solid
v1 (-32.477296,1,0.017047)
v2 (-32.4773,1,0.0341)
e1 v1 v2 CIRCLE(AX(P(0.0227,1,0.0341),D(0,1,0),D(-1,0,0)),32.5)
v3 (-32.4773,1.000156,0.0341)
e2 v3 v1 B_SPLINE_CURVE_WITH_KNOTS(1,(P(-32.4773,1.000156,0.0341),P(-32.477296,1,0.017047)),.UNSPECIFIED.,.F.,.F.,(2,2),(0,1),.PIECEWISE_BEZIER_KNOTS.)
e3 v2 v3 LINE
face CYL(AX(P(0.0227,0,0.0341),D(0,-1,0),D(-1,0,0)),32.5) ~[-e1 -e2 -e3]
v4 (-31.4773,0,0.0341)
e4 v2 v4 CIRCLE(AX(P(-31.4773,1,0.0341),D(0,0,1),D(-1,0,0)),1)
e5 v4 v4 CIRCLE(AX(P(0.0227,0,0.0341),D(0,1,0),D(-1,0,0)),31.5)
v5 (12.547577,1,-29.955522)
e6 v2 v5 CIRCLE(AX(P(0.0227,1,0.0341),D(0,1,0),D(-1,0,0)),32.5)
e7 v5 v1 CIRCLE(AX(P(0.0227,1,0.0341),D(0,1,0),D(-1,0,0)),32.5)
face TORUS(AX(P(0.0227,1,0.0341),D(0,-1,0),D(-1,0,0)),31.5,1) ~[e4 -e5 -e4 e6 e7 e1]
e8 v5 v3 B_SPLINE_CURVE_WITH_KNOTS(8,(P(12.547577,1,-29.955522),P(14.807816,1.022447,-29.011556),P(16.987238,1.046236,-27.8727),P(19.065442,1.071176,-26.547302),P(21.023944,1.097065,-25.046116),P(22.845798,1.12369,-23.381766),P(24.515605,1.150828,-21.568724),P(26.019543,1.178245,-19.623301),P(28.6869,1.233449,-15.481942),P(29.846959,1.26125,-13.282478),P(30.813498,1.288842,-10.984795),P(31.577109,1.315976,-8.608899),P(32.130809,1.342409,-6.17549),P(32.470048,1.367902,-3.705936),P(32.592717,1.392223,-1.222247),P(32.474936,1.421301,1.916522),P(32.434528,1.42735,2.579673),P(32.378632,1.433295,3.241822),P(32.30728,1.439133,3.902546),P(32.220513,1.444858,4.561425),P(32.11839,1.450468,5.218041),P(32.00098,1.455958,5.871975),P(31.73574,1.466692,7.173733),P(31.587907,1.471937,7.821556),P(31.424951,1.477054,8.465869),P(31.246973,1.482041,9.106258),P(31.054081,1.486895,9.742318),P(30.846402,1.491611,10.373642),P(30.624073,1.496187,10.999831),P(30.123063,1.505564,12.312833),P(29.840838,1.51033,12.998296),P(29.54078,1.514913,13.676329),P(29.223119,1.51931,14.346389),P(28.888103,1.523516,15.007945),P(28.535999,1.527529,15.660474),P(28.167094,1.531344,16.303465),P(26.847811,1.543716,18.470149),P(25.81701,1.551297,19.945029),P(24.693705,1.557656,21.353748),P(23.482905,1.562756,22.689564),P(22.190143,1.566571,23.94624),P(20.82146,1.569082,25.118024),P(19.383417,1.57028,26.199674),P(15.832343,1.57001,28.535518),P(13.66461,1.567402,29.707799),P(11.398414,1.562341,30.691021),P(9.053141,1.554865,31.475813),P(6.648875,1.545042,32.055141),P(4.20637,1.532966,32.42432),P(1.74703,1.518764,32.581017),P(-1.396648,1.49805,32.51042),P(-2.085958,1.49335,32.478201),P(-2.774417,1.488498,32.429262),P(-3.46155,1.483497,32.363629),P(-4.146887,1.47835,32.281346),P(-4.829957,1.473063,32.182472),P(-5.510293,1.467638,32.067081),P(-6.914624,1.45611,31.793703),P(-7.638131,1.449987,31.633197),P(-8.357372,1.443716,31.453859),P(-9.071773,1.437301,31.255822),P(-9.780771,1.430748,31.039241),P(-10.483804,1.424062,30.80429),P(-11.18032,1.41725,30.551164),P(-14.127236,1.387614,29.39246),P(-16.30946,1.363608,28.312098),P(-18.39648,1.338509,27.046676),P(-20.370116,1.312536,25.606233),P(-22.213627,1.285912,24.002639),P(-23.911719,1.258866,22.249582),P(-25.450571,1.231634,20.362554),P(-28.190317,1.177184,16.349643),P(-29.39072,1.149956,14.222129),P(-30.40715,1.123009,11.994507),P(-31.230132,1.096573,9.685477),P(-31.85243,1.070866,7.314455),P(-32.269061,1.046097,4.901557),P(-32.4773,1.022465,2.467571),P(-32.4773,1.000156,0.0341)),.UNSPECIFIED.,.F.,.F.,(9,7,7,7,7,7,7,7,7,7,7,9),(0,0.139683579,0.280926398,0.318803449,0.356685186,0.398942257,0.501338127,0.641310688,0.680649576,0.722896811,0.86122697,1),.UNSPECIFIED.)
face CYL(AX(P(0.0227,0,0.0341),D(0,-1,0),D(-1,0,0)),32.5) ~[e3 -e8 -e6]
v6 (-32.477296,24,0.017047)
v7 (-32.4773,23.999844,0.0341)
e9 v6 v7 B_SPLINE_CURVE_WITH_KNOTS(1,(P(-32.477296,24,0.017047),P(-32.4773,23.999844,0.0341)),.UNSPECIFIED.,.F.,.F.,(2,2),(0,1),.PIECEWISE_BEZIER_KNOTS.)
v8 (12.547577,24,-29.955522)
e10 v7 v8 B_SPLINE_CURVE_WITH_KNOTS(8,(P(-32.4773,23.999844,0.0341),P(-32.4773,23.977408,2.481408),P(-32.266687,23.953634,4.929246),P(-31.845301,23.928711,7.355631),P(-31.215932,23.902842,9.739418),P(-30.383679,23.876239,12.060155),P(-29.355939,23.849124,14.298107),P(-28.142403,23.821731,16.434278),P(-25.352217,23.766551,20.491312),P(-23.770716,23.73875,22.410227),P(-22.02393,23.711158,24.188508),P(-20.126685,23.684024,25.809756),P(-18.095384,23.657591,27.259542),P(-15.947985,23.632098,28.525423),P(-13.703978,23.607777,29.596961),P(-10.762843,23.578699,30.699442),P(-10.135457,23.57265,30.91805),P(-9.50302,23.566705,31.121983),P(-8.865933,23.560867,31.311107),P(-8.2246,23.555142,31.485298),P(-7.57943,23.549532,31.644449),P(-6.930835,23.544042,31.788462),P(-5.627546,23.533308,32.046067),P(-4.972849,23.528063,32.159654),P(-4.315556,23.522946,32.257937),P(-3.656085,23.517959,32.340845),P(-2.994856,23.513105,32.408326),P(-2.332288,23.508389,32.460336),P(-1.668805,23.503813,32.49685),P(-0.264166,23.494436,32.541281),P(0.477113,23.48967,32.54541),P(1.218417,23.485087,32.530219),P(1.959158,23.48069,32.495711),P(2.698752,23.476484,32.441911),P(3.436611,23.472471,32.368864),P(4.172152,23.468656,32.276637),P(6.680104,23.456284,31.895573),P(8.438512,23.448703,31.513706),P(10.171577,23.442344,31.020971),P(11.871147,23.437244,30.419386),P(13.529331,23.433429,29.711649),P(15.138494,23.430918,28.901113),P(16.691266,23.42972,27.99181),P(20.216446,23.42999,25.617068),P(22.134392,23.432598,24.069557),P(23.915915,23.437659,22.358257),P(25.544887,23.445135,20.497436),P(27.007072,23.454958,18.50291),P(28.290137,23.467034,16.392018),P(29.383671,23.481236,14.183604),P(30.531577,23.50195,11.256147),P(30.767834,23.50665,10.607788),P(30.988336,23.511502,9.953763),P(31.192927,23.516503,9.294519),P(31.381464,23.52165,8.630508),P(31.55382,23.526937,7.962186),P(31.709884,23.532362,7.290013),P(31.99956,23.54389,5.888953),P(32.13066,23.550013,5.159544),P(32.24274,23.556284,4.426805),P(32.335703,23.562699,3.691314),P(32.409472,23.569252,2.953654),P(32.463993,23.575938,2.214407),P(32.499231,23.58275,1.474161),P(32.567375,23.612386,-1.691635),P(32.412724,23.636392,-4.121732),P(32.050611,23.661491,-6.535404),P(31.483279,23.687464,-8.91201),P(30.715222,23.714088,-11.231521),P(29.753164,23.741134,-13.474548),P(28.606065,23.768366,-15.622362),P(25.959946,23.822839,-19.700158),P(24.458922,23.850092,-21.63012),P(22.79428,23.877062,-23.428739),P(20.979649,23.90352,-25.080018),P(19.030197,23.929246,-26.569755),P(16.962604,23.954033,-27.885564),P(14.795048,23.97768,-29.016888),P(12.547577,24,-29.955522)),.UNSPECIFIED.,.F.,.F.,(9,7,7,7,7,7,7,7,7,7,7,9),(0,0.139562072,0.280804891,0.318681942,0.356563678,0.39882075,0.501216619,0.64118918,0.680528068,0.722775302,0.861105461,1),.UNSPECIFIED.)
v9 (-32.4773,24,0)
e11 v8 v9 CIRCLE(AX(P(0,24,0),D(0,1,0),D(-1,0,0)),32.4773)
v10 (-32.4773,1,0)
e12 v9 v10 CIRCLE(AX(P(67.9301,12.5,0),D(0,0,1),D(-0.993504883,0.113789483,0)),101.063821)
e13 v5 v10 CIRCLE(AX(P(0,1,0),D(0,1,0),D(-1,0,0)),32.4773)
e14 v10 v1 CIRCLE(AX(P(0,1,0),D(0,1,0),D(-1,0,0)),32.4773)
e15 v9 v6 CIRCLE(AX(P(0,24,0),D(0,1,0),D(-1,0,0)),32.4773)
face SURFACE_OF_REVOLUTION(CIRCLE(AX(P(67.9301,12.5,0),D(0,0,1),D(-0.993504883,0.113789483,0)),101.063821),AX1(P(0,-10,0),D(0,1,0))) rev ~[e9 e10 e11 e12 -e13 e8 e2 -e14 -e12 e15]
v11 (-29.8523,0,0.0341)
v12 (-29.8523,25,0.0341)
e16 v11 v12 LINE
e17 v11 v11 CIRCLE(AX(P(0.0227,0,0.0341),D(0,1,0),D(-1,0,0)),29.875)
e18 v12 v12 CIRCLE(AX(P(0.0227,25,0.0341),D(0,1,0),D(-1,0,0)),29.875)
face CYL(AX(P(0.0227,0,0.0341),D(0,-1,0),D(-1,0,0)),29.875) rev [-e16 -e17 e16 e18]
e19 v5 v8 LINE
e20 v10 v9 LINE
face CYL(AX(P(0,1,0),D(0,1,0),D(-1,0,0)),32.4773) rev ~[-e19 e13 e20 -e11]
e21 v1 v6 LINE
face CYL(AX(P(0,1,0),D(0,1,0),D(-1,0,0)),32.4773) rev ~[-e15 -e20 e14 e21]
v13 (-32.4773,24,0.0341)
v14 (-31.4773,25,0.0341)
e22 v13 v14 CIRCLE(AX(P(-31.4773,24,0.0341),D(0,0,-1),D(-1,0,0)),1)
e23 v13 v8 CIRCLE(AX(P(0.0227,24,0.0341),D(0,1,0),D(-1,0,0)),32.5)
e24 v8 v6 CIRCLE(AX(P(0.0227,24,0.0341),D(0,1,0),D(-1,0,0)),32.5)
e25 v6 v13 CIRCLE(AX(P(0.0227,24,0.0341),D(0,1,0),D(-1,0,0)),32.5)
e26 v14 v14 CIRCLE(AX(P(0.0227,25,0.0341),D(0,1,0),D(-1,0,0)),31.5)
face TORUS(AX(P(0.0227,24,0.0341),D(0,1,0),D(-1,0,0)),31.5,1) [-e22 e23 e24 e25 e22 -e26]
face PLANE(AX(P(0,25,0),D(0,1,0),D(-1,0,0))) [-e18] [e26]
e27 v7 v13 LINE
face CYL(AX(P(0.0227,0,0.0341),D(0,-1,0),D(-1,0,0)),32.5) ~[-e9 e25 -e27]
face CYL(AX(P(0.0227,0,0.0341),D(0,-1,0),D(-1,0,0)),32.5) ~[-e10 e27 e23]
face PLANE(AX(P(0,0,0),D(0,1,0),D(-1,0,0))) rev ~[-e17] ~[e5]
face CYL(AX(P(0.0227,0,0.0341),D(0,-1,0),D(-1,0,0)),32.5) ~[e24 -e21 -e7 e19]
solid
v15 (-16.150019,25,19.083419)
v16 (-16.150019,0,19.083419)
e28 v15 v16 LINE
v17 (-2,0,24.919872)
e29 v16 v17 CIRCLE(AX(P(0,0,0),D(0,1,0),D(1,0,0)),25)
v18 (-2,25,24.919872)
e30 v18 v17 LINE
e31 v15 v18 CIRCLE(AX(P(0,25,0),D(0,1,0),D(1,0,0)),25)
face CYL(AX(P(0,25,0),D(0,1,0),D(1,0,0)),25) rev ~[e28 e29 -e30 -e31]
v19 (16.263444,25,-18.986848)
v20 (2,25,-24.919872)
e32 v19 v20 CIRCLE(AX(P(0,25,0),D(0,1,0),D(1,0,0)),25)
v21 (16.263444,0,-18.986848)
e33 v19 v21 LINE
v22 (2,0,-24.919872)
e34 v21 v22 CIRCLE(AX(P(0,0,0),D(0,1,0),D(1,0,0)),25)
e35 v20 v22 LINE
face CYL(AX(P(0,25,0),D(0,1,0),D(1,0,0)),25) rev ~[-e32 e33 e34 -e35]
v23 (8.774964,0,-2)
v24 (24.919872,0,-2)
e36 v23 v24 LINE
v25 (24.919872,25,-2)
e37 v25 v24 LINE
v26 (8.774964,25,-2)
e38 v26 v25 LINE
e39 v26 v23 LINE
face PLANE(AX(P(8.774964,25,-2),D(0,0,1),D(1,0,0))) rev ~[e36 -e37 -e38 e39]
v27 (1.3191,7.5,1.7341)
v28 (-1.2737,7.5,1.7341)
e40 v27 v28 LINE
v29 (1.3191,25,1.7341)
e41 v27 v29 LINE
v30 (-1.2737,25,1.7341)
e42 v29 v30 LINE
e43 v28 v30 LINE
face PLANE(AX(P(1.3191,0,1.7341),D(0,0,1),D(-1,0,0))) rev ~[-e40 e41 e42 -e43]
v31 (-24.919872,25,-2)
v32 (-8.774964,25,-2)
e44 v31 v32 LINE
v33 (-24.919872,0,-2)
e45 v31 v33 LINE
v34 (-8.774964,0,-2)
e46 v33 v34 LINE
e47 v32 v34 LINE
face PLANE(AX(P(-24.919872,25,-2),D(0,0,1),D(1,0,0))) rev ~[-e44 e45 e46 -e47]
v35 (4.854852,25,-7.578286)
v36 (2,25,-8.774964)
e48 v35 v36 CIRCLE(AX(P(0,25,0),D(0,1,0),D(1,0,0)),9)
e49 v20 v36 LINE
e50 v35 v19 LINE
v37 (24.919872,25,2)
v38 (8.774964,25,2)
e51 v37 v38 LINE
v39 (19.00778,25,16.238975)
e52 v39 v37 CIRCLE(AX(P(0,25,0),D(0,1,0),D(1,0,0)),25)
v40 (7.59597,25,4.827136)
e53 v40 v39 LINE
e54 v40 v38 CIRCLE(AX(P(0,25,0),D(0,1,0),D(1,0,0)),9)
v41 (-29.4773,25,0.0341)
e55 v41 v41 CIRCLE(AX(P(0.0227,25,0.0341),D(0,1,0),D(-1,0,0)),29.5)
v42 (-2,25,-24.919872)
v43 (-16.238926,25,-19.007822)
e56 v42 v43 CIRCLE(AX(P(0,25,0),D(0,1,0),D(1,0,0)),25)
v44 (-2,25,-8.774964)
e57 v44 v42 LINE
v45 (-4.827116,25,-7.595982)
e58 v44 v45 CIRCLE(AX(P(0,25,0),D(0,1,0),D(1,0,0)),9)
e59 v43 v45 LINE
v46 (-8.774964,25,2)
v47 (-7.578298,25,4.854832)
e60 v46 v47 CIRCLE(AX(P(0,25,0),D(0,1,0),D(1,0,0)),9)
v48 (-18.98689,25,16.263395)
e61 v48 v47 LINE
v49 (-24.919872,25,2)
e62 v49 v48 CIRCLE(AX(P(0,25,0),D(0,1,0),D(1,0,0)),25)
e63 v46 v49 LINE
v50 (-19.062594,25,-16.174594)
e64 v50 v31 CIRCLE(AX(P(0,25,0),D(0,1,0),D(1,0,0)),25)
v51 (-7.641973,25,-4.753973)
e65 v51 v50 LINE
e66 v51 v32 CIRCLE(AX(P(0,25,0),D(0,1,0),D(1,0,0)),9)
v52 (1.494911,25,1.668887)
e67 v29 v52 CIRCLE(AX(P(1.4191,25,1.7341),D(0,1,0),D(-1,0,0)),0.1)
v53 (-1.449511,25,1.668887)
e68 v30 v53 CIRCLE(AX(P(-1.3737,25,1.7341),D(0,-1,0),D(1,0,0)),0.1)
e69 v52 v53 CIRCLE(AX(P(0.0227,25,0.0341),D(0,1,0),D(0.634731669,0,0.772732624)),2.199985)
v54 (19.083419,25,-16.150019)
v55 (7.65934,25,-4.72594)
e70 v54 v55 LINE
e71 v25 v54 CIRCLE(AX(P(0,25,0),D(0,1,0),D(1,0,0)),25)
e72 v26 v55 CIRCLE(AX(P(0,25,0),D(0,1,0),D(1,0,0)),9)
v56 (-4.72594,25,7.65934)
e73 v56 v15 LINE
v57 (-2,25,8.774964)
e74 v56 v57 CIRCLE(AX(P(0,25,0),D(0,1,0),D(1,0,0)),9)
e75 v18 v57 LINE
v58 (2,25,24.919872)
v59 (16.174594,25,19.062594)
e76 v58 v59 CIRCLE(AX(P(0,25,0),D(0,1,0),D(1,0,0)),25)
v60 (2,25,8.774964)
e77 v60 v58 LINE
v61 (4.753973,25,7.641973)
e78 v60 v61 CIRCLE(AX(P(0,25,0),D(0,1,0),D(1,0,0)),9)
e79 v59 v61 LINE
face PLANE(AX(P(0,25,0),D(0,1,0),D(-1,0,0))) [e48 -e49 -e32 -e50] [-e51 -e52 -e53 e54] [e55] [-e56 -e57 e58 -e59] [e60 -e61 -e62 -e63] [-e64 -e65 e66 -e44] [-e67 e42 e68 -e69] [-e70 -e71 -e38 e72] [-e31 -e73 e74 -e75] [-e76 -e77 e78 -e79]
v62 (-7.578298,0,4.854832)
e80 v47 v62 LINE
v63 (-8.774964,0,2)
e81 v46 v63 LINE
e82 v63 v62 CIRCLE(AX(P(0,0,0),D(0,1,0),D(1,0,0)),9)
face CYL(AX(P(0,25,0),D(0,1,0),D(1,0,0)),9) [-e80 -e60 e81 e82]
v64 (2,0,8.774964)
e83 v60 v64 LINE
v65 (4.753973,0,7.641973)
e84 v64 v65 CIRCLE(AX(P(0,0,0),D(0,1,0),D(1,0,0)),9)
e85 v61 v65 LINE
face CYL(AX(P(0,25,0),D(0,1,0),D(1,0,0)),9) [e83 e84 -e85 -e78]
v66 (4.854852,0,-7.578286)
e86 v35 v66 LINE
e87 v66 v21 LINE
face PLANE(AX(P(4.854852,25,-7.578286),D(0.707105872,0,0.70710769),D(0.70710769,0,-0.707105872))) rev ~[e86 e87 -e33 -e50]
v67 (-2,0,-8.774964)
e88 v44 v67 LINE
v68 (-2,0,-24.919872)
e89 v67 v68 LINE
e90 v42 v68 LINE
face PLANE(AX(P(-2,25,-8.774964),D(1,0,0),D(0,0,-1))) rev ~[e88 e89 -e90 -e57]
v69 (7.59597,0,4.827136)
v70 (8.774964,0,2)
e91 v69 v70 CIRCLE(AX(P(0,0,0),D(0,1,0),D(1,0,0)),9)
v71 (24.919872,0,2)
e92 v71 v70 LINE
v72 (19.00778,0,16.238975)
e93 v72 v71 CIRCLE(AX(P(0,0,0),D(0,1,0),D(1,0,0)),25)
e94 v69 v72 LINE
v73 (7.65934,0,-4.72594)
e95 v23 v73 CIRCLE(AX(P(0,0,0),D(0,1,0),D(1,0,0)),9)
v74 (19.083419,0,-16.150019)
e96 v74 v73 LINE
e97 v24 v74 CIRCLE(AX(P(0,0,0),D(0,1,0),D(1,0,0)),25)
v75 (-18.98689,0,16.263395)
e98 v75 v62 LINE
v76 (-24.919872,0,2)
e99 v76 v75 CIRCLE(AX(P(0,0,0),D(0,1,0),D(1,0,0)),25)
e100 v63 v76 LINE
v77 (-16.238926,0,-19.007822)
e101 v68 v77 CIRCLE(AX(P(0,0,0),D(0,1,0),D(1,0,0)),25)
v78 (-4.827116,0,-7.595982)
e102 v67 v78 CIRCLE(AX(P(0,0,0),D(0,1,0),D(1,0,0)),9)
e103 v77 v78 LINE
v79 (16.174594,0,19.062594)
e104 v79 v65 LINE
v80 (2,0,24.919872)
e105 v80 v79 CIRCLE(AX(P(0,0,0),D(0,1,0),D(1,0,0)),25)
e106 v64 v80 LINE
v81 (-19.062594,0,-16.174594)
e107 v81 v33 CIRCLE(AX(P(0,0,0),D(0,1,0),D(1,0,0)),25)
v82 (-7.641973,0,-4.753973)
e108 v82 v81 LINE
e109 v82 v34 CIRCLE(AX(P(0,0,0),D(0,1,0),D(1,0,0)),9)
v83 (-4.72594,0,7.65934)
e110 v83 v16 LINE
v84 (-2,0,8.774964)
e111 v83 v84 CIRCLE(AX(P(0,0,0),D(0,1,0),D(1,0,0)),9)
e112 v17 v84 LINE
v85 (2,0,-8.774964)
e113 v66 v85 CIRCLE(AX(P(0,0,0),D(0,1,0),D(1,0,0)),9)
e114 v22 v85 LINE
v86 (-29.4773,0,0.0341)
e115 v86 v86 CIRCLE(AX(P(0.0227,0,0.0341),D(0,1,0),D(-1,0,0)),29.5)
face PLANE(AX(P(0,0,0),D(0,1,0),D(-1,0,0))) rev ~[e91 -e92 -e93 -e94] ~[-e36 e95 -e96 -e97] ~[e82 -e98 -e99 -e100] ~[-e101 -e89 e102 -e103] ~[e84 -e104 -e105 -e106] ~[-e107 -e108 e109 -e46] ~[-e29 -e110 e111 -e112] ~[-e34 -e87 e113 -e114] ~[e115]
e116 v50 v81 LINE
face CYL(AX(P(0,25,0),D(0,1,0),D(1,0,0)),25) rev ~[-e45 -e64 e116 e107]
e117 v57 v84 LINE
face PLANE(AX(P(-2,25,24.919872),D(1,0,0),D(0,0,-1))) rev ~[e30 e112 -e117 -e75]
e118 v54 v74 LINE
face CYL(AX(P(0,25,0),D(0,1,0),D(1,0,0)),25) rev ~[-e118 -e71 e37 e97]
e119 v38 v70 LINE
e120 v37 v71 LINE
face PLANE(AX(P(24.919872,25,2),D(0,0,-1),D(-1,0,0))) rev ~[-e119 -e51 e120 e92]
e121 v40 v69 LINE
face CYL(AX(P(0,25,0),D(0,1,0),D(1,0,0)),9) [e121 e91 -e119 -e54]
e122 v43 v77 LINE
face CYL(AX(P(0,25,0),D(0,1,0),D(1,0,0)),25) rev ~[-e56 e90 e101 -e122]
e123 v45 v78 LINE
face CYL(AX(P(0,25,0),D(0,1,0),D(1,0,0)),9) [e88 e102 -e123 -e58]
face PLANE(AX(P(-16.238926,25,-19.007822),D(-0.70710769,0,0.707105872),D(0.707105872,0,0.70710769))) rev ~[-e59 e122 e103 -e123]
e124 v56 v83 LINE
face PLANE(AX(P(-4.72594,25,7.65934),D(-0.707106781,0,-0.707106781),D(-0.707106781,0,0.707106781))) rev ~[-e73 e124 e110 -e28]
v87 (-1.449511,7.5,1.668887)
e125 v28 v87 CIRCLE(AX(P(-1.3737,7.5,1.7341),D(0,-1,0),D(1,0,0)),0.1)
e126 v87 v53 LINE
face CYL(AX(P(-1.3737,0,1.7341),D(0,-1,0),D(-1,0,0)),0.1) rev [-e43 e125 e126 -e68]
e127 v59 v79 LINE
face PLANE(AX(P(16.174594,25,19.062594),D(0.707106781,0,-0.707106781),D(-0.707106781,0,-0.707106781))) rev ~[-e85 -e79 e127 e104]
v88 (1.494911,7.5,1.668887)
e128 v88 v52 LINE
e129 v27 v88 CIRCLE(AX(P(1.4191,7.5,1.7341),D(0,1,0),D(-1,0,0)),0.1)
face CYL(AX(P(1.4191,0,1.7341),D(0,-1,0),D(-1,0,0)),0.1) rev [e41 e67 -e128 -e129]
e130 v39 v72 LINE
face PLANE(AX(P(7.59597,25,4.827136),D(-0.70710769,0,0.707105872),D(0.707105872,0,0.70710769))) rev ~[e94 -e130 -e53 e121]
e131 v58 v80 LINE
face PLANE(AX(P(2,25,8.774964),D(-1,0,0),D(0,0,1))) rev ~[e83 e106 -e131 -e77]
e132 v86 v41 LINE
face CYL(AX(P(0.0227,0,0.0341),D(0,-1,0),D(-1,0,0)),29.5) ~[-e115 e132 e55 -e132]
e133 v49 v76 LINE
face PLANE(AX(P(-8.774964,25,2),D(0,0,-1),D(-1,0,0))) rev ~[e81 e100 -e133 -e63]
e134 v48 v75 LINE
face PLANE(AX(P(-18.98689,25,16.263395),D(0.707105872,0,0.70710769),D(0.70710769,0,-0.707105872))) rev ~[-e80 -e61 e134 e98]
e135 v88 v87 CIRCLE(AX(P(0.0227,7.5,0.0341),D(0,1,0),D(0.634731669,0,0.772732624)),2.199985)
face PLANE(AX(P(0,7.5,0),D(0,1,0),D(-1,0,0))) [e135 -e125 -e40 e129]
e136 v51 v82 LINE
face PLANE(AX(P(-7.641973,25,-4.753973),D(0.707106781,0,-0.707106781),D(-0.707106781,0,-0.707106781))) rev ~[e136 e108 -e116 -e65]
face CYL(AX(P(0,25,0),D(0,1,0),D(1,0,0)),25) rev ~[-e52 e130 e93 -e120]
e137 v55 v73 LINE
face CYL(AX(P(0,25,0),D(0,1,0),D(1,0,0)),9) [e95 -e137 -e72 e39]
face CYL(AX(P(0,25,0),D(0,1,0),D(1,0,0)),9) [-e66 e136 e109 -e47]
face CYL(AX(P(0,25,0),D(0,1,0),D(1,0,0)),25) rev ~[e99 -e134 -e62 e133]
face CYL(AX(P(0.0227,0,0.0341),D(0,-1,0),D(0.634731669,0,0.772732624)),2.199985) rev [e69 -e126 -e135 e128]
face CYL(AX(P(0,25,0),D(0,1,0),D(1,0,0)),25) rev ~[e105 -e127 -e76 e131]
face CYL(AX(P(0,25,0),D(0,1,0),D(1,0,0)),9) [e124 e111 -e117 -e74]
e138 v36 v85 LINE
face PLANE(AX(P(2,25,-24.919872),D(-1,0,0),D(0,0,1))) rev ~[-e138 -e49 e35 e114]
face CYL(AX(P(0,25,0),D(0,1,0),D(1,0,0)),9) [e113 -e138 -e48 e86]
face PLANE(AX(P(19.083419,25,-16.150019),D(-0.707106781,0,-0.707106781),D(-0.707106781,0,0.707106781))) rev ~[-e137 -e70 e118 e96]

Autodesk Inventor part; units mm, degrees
ref_plane "YZ Plane" through (0, 0, 0) normal (1, 0, 0) x (0, 1, 0)
ref_plane "XZ Plane" through (0, 0, 0) normal (0, 1, 0) x (-1, 0, 0)
sketch "Sketch1" plane through (0, 0, 0) normal (0, 1, 0) x (-1, 0, 0)
  circle A0 centre (-0.0227, 0.0341) radius 32.5
  arc A1 (-1.3456, 1.5341) -> (1.3002, 1.5341) centre (-0.0227, 0.0341) ccw
  line L0 (1.3002, 1.5341) -> (-1.3456, 1.5341)
  arc A2 (-1.4191, 1.7341) -> (1.3737, 1.7341) centre (-0.0227, 0.0341) ccw
  line L1 (-1.4191, 1.7341) -> (1.3737, 1.7341)
  circle A3 centre (-0.0227, 0.0341) radius 29.5
  circle A4 centre (-0.0227, 0.0341) radius 29.875
  circle A5 centre (1.3737, 1.7341) radius 0.1
  circle A6 centre (-1.4191, 1.7341) radius 0.1
  point P0 (0, 0)
  point P1 (-1.4949, 1.6688)
  point P2 (-1.3191, 1.7341)
  point P3 (1.2737, 1.7341)
  point P4 (1.4495, 1.6688)
  dimension "d0" = 65
  dimension "d1" = 0.2
  dimension "d2" = 59
  dimension "d3" = 59.75
  dimension "d9" = 0.2
  dimension "d10" = 0.2
extrude "Extrusion1" add sketch "Sketch1" along normal blind 25 contours A3
extrude "Extrusion2" add sketch "Sketch1" along normal blind 25 separate body contours A0
fillet "Fillet1" radius 1 2 edges at (32.5227, 25, 0.0341) (32.5227, 0, 0.0341)
sketch "Sketch2" plane through (0.0227, 25, 0.0341) normal (0, 1, 0) x (1, 0, 0)
  circle A0 centre (-0.0227, 0.0341) radius 9
  circle A1 centre (-0.0227, 0.0341) radius 25
  line L0 (-18.0392, 20.8195) -> (20.8516, -18.0714)
  line L1 (20.8516, -18.0714) -> (18.0232, -20.8998)
  line L2 (18.0232, -20.8998) -> (-20.8677, 17.9911)
  line L3 (-20.8677, 17.9911) -> (-18.0392, 20.8195)
  line L4 (27.4773, -1.9659) -> (-27.5227, 2.0341) construction
  line L5 (-27.5227, -1.9659) -> (27.4773, 2.0341) construction
  line L6 (1.9773, -27.4659) -> (-2.0227, -27.4659)
  line L7 (-2.0227, -27.4659) -> (-2.0227, 27.5341)
  line L8 (-2.0227, 27.5341) -> (1.9773, 27.5341)
  line L9 (1.9773, 27.5341) -> (1.9773, -27.4659)
  line L10 (1.9773, -27.4659) -> (-2.0227, 27.5341) construction
  line L11 (-2.0227, -27.4659) -> (1.9773, 27.5341) construction
  line L12 (27.4773, -1.9659) -> (-27.5227, -1.9659)
  line L13 (-27.5227, -1.9659) -> (-27.5227, 2.0341)
  line L14 (-27.5227, 2.0341) -> (27.4773, 2.0341)
  line L15 (27.4773, 2.0341) -> (27.4773, -1.9659)
  line L16 (27.4773, -1.9659) -> (-27.5227, 2.0341) construction
  line L17 (-27.5227, -1.9659) -> (27.4773, 2.0341) construction
  line L18 (-20.8195, -18.0392) -> (18.0714, 20.8516)
  line L19 (18.0714, 20.8516) -> (20.8998, 18.0232)
  line L20 (20.8998, 18.0232) -> (-17.9911, -20.8677)
  line L21 (-17.9911, -20.8677) -> (-20.8195, -18.0392)
  point P0 (1.9773, -8.7409)
  point P1 (1.9773, -24.8858)
  point P2 (16.1519, -19.0285)
  point P3 (4.7313, -7.6079)
  point P4 (24.8972, -1.9659)
  point P5 (8.7523, -1.9659)
  point P6 (7.5733, -4.793)
  point P7 (18.9851, -16.2049)
  point P8 (19.0607, 16.1841)
  point P9 (7.6366, 4.76)
  point P10 (8.7523, 2.0341)
  point P11 (24.8972, 2.0341)
  point P12 (4.8321, 7.6124)
  point P13 (16.2407, 19.021)
  point P14 (1.9773, 24.9539)
  point P15 (1.9773, 8.809)
  point P16 (-2.0227, 8.809)
  point P17 (-2.0227, 24.9539)
  point P18 (-16.2616, 19.0419)
  point P19 (-4.8498, 7.6301)
  point P20 (-24.9426, 2.0341)
  point P21 (-8.7977, 2.0341)
  point P22 (-7.6647, 4.7881)
  point P23 (-19.0853, 16.2087)
  point P24 (-19.0096, -16.2293)
  point P25 (-7.601, -4.8208)
  point P26 (-8.7977, -1.9659)
  point P27 (-24.9426, -1.9659)
  point P28 (-4.7487, -7.6253)
  point P29 (-16.1728, -19.0493)
  point P30 (-2.0227, -24.8858)
  point P31 (-2.0227, -8.7409)
  dimension "d11" = 18
  dimension "d12" = 50
  dimension "d13" = 55
  dimension "d14" = 4
  dimension "d15" = 4
  dimension "d16" = 55
extrude "Extrusion3" cut sketch "Sketch2" against normal blind 25 contours A0 L20 A1 L14 | L12 A1 L0 A0 | A0 L9 A1 L18 | L2 A1 L9 A0 | A0 L0 A1 L7 | L7 A1 L20 A0 | A0 L14 A1 L2 | L18 A1 L12 A0 bodies 1
ref_plane "Work Plane1" through (-24.9199, 25, 0) normal (0, 0, 1) x (1, 0, 0)
sketch "Sketch3" plane through (-24.9199, 25, 0) normal (0, 0, 1) x (1, 0, 0)
  line L0 (-7.5574, -24) -> (-7.5574, -1) projected
  line L1 (57.4426, -24) -> (57.4426, -1) projected
  line L2 (57.4426, -1) -> (-7.5574, -1)
  line L3 (-7.5574, -1) -> (-7.5574, -24)
  line L4 (-7.5574, -24) -> (57.4426, -24)
  line L5 (57.4426, -24) -> (57.4426, -1)
  arc A0 (-7.5574, -1) -> (-7.5574, -24) centre (92.85, -12.5) ccw
  line L6 (-7.5574, -1) -> (57.4426, -24) construction
  line L7 (-7.5574, -24) -> (57.4426, -1) construction
  line L8 (26.4148, -25) -> (26.4148, 0) construction
  line L9 (26.4148, -13.0209) -> (26.4148, -1) construction
  line L10 (26.4148, -13.0209) -> (26.4148, -24) construction
  line L11 (24.9199, -30) -> (24.9199, 5) projected
  point P0 (24.9199, -25)
revolve "Revolution1" add sketch "Sketch3" angle 360 about axis through (0, -10, 0) along (0, 1, 0) separate body contours A0 L0
extrude "Extrusion4" add sketch "Sketch1" along normal blind 7.5 contours L0 A1 | L1 A6 A2 | A2 A6 L1 | A6 L1 A5 A2 | A5 L1 A2 | A2 L1 A5 bodies 1
combine bodies "Combine1" operation type add bodies to combine 3 2
properties part number "wheel"
